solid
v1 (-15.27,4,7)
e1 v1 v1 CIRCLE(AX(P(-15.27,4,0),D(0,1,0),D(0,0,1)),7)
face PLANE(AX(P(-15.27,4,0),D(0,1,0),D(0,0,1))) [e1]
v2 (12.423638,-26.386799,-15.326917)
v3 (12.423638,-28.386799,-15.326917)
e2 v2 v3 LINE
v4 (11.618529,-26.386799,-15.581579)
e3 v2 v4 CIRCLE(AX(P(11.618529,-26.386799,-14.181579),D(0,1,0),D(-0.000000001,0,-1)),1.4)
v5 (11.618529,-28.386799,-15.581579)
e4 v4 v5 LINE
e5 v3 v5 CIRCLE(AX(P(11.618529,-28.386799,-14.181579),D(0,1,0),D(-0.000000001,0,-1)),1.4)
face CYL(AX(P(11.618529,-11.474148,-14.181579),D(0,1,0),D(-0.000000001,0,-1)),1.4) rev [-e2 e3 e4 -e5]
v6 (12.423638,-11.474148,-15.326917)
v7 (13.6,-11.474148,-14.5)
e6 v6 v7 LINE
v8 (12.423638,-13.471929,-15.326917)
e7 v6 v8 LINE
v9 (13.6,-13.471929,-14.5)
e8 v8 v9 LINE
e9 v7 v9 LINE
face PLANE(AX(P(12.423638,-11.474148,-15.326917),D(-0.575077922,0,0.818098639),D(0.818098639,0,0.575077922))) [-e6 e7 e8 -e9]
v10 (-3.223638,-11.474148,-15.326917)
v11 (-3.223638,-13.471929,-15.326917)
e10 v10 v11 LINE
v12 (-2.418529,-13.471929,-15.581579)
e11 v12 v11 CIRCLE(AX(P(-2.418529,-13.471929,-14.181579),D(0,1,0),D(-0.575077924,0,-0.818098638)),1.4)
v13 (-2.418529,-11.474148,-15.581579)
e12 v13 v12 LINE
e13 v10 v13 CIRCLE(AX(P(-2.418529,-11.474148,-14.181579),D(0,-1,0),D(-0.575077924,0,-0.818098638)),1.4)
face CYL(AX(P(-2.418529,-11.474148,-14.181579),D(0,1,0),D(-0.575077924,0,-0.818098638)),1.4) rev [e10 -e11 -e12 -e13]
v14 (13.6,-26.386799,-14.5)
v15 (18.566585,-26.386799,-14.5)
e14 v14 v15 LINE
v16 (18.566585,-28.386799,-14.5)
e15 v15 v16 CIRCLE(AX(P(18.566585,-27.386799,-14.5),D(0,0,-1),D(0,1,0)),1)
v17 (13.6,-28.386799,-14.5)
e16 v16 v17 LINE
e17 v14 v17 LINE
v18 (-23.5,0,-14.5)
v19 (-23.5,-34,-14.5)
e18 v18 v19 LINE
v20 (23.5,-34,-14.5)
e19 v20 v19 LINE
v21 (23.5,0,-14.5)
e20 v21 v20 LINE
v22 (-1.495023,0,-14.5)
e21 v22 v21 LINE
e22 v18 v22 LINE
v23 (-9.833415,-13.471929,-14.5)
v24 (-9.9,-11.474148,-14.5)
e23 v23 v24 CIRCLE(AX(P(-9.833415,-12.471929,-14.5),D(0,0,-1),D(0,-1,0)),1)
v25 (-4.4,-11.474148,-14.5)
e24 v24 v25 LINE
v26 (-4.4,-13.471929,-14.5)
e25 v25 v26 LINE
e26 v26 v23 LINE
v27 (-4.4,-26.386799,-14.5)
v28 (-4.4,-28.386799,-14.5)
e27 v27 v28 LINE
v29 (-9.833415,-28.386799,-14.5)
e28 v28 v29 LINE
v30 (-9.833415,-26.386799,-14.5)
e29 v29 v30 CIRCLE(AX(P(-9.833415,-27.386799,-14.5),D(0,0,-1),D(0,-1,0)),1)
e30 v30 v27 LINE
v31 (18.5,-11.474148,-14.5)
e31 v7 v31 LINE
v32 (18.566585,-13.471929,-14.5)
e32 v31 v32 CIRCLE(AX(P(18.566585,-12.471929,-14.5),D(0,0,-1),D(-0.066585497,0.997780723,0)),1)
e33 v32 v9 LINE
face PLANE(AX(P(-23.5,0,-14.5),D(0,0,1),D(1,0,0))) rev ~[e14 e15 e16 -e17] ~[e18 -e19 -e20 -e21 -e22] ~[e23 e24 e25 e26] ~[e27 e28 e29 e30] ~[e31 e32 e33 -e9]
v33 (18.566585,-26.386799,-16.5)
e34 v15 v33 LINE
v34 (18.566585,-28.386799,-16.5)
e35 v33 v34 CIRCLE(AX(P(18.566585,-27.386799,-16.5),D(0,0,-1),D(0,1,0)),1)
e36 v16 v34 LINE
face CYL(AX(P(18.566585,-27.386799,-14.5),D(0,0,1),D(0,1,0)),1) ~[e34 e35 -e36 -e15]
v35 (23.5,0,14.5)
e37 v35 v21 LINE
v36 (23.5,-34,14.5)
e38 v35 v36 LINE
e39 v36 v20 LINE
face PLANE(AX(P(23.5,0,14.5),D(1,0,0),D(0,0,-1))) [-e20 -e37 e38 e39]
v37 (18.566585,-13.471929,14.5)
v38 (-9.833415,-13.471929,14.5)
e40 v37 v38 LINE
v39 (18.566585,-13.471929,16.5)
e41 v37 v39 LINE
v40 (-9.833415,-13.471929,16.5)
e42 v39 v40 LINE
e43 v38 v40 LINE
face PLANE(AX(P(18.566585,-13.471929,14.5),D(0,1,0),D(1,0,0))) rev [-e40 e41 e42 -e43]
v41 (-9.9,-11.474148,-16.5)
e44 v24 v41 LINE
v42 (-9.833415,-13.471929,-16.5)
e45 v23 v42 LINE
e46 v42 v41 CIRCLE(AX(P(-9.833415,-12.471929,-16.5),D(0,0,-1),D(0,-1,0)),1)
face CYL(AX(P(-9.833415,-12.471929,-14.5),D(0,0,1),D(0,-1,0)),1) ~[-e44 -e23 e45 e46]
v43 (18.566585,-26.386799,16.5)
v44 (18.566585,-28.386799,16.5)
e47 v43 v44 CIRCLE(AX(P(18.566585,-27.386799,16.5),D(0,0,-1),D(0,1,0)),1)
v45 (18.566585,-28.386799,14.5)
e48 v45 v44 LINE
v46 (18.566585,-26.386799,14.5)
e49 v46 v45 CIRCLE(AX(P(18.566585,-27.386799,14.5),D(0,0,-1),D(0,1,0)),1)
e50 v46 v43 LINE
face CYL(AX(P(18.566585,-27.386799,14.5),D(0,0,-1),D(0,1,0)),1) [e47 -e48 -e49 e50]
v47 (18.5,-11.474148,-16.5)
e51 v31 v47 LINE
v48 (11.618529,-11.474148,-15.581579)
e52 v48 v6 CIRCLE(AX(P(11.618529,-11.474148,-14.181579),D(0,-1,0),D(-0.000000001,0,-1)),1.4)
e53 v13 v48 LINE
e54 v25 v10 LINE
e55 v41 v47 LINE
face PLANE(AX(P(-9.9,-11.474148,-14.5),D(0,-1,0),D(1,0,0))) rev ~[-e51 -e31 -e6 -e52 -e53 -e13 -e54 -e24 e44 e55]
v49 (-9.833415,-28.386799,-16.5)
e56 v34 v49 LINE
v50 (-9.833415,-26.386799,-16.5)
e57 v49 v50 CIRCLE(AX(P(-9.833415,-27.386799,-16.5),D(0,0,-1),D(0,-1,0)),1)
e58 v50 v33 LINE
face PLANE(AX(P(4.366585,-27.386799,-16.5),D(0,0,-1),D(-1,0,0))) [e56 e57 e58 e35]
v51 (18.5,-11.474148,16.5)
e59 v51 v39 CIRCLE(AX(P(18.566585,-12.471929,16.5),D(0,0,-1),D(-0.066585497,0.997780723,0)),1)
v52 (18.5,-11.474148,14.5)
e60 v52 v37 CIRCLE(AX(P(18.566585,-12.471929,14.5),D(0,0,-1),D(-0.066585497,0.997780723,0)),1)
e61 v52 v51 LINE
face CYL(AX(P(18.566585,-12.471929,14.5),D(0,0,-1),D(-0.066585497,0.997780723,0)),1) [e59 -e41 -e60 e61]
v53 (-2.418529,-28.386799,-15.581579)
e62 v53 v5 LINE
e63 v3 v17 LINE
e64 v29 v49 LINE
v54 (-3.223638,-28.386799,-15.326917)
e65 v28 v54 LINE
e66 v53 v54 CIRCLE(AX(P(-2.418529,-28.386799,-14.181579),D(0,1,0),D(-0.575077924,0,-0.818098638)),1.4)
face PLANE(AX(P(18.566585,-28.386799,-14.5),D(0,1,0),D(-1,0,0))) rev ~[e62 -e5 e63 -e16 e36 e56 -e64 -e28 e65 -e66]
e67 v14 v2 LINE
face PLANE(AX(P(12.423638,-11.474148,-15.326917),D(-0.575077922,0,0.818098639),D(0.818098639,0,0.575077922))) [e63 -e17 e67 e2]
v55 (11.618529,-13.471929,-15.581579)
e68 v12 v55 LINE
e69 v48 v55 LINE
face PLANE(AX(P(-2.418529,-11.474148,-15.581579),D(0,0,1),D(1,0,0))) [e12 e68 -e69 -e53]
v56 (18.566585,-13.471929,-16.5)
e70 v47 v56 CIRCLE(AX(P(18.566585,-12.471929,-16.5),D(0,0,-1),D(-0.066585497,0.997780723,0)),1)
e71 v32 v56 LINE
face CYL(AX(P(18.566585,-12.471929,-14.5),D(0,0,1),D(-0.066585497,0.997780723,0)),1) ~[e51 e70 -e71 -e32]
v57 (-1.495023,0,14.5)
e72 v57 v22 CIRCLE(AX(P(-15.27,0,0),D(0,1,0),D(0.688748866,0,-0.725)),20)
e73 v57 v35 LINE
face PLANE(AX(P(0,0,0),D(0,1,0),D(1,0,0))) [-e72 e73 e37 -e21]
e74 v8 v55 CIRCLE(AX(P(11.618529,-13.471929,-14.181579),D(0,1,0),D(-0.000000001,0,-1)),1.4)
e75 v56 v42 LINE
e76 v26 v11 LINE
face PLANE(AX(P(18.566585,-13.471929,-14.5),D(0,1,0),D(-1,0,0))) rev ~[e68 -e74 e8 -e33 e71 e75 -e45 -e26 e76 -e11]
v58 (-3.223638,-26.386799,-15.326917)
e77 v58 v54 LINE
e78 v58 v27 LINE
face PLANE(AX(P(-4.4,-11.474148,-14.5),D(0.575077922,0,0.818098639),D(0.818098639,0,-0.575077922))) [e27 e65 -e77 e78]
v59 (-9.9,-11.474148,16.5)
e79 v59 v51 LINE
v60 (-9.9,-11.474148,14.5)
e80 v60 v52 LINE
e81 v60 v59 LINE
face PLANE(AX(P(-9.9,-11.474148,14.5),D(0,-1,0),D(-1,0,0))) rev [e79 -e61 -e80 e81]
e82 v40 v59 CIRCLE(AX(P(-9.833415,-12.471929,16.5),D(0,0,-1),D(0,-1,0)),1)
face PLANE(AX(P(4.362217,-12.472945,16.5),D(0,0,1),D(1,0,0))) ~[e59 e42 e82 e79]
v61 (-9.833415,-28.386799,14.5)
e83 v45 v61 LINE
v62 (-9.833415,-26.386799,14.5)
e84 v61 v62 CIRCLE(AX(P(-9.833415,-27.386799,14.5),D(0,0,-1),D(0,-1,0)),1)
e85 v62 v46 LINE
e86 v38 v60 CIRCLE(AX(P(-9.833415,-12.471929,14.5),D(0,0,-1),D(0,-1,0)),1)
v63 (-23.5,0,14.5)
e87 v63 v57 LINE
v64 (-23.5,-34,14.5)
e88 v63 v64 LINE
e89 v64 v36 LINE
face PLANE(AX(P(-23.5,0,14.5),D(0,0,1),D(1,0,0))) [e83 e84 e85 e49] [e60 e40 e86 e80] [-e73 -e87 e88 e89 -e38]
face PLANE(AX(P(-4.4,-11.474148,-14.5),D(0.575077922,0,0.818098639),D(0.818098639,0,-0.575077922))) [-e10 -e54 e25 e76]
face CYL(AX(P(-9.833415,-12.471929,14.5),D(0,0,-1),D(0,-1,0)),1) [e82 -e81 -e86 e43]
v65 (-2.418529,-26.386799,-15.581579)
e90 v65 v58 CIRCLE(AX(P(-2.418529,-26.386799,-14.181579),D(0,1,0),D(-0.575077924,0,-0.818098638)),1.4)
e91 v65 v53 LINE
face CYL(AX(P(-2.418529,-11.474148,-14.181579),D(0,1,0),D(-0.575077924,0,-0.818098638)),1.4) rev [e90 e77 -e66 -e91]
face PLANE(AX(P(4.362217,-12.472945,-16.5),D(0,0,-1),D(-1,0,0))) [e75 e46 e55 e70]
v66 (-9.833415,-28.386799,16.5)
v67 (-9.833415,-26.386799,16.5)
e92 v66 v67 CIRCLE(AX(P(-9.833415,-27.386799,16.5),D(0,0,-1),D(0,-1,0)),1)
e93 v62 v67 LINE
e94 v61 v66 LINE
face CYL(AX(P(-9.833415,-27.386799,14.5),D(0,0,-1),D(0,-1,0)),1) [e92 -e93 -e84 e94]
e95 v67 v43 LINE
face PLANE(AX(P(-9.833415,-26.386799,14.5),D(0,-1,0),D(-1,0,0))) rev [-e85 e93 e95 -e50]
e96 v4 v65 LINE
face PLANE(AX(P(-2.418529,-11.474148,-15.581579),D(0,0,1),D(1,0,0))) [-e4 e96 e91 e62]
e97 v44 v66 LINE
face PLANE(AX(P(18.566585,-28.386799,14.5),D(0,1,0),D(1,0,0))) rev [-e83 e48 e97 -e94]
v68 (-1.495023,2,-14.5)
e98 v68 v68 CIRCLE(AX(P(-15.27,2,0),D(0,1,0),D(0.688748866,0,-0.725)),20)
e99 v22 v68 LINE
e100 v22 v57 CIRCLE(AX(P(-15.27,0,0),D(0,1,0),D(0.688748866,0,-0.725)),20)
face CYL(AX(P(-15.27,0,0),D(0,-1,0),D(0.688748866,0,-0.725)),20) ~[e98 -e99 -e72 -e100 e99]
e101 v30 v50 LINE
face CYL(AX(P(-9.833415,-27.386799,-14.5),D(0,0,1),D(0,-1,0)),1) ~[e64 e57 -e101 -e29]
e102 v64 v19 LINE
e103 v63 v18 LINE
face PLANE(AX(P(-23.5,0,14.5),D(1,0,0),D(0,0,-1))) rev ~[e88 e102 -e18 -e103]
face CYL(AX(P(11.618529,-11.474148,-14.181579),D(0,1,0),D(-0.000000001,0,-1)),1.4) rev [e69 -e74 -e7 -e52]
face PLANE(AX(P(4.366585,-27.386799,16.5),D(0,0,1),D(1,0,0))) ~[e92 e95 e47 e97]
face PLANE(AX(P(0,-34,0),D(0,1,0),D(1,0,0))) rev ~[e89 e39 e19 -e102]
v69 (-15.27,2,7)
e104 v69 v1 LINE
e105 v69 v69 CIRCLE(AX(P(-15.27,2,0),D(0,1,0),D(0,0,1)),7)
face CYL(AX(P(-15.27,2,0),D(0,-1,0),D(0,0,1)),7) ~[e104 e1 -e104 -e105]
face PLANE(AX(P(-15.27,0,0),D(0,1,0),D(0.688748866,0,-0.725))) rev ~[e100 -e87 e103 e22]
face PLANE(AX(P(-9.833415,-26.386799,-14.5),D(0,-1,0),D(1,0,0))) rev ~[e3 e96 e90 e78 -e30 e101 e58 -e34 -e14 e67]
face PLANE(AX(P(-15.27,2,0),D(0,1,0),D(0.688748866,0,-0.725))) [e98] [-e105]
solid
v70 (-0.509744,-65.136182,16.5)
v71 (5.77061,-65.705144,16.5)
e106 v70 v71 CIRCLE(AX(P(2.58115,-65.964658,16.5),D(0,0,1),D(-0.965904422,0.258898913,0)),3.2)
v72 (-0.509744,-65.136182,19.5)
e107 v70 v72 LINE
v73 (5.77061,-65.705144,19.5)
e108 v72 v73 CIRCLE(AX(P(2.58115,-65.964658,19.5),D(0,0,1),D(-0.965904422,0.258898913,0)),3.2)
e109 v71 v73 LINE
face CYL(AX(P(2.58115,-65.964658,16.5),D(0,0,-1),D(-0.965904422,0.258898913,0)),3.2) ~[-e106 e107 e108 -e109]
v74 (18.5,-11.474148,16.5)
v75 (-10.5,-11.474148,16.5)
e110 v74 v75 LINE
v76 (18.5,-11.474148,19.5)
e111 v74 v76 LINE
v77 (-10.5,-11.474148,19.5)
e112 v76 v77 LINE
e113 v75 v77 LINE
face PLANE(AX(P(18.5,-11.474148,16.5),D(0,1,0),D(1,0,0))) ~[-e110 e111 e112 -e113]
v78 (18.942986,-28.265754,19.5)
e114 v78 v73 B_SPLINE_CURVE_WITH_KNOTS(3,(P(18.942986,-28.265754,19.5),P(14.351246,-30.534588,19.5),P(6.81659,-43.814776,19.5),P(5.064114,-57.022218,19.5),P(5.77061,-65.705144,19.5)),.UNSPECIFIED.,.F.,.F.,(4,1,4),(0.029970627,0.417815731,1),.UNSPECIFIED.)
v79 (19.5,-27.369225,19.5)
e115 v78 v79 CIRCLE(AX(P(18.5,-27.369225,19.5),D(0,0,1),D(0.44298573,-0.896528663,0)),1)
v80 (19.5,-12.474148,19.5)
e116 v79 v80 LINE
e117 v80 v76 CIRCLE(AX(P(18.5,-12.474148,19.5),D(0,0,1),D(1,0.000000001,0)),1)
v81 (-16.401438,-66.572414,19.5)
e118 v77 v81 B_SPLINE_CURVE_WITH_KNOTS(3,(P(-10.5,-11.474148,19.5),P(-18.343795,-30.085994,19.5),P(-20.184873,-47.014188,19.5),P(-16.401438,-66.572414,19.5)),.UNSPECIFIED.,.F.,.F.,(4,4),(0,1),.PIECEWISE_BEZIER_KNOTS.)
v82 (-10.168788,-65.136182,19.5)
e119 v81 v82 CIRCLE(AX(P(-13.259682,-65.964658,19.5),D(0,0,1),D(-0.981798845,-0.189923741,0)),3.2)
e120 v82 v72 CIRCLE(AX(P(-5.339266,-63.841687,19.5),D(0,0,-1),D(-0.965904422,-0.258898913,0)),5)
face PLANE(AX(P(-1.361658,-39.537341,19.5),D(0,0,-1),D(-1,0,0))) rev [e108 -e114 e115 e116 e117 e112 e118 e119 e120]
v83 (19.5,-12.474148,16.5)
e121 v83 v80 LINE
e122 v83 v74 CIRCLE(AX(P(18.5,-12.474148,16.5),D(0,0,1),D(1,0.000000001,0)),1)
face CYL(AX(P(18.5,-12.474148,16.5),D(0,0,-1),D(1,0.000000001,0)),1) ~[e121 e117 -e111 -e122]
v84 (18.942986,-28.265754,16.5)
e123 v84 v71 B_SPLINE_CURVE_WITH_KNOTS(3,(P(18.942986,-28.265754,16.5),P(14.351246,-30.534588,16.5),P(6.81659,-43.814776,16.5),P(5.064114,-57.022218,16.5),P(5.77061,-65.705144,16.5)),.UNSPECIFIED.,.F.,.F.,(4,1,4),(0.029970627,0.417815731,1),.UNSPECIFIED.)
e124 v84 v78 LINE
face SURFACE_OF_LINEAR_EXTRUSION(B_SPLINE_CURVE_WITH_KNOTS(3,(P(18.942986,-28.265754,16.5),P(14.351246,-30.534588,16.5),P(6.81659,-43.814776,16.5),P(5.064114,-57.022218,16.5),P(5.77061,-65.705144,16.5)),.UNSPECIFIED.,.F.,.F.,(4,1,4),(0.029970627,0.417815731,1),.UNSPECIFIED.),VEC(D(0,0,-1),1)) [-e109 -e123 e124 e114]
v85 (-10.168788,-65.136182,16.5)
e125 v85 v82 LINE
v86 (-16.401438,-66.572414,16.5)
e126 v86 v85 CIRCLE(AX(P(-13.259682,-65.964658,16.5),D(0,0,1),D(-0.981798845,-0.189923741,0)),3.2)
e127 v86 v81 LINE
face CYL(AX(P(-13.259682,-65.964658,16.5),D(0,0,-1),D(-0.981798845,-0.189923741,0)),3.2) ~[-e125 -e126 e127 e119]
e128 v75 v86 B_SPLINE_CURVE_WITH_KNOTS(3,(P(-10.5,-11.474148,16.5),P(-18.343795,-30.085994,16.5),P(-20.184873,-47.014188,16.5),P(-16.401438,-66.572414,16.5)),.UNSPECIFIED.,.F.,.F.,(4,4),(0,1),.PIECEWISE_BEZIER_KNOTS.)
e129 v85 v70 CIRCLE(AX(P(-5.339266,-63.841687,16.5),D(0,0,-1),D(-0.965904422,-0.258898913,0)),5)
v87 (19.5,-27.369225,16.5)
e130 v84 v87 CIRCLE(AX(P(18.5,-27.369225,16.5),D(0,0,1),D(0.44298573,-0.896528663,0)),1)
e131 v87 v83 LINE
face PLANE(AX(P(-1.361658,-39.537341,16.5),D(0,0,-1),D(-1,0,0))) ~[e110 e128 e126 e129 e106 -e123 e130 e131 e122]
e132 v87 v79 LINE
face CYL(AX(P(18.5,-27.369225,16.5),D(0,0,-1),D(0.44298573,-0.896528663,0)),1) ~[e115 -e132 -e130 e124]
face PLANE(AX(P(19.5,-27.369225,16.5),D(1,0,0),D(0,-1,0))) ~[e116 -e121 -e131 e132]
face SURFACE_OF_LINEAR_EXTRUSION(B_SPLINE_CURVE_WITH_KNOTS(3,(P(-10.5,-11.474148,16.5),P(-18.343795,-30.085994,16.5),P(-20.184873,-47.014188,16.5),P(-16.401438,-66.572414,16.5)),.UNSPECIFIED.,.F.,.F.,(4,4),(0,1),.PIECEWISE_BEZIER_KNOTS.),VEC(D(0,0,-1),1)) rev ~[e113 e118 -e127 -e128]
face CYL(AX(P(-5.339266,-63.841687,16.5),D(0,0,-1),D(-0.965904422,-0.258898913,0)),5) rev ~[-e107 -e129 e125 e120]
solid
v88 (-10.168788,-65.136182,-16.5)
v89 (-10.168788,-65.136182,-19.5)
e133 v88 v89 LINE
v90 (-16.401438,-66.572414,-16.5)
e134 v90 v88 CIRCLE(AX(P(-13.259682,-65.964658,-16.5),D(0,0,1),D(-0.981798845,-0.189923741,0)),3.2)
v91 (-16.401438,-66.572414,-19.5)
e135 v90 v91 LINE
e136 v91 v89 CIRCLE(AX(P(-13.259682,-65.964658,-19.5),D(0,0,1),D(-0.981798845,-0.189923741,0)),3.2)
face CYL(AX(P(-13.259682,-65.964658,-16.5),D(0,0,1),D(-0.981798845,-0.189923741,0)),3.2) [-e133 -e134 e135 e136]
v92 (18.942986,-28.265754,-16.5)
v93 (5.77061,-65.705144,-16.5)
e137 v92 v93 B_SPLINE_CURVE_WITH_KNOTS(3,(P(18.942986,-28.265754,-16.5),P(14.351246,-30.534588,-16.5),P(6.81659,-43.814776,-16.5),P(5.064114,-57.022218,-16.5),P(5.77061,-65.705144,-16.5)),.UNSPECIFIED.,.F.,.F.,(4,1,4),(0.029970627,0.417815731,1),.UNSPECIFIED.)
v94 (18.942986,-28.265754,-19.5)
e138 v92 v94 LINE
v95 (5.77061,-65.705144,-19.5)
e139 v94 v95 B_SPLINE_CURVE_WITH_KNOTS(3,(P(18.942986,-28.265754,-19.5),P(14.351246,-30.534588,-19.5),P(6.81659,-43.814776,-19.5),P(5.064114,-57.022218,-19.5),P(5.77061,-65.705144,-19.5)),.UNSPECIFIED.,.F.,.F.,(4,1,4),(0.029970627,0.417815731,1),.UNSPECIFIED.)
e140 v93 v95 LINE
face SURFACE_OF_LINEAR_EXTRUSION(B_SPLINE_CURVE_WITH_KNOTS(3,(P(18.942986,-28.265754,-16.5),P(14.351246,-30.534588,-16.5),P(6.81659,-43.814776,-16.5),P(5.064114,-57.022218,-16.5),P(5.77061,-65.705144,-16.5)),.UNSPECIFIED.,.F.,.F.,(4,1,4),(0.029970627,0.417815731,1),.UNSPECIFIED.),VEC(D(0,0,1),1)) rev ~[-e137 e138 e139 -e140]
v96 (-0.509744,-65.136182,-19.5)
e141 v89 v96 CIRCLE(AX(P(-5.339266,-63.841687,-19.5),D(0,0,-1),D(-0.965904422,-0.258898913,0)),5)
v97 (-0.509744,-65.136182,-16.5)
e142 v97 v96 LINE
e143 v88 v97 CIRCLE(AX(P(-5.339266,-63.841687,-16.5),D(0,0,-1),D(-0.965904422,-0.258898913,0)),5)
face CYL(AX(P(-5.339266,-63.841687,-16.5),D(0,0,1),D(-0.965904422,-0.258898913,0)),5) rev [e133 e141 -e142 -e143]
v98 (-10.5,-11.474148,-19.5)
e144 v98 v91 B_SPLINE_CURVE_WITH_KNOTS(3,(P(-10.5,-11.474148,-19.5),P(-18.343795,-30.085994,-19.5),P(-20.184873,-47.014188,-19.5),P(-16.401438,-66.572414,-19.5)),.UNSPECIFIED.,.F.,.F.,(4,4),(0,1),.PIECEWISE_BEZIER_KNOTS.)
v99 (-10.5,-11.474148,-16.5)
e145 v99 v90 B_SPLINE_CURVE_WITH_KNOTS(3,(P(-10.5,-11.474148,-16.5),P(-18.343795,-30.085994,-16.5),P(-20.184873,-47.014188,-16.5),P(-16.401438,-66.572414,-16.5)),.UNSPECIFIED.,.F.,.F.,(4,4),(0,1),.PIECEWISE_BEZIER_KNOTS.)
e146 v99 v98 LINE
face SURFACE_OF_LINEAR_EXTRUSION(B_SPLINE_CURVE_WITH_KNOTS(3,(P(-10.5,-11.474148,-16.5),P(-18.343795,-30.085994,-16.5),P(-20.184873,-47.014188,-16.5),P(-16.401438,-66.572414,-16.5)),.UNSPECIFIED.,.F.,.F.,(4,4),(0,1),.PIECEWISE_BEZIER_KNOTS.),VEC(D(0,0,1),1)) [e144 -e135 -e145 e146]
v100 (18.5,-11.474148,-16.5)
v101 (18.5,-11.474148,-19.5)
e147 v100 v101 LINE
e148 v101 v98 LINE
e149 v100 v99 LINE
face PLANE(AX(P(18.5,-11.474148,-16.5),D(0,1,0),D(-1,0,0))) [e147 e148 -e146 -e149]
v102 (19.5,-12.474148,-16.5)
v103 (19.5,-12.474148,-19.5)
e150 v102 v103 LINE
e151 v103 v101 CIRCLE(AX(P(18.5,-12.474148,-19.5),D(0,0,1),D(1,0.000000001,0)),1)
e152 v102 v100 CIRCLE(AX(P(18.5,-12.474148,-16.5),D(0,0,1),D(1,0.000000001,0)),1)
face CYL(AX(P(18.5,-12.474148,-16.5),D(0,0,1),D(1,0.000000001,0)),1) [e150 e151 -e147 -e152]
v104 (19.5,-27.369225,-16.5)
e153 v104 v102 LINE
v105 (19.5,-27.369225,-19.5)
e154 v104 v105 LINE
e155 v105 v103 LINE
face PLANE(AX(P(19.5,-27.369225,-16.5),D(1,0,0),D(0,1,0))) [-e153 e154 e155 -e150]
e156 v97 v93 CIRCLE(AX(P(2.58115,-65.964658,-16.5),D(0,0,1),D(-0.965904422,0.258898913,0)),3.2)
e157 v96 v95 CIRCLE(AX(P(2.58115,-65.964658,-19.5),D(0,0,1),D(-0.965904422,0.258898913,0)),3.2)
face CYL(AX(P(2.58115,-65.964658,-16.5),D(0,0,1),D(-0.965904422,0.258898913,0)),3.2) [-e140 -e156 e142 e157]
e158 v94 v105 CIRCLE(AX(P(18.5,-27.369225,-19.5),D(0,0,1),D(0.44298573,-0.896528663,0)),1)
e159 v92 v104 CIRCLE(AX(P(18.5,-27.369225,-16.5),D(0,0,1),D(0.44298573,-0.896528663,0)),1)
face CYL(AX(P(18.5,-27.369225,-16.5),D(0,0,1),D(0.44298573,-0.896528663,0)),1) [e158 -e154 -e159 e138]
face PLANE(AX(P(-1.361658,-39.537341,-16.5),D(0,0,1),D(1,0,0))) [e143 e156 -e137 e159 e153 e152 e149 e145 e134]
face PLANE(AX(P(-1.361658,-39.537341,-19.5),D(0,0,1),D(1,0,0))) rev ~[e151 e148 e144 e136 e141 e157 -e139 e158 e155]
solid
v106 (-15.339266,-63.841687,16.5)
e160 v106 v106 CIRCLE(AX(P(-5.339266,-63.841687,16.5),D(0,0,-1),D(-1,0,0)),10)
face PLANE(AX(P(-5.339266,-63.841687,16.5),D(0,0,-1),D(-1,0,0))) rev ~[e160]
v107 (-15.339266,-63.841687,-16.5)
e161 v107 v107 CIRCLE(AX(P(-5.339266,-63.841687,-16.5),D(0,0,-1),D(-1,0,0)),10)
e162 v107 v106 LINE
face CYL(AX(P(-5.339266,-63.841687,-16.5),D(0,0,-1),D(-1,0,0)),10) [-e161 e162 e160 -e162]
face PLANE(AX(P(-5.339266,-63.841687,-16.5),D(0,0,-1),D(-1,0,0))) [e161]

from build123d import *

# Parameters (mm, degrees)
SKETCH1_W           = 47
SKETCH1_H           = 29
BOSS_EXTRUDE1_DEPTH = 34
BOSS_EXTRUDE2_START = 2
BOSS_EXTRUDE2_DEPTH = 3
BOSS_EXTRUDE3_DEPTH = 2
CUT_EXTRUDE1_DEPTH  = 66.273998936
BOSS_EXTRUDE4_START = -3
SKETCH5_R           = 10
BOSS_EXTRUDE4_DEPTH = 33
SKETCH6_R           = 20
BOSS_EXTRUDE5_DEPTH = 2
SKETCH7_R           = 7
BOSS_EXTRUDE6_DEPTH = 2


with BuildPart() as part:
    # Sketch1 → Boss-Extrude1 (new body)
    with BuildSketch(Plane(origin=(0, 0, 0), x_dir=(1, 0, 0), z_dir=(0, 1, 0))):
        Rectangle(SKETCH1_W, SKETCH1_H)
    extrude(amount=-BOSS_EXTRUDE1_DEPTH)

    # Sketch3 → Boss-Extrude3 (add)
    with BuildSketch(Plane(origin=(0, 0, -14.5), x_dir=(-1, 0, 0), z_dir=(0, 0, -1))):
        with BuildLine():
            Line((9.9, -11.474148425), (-18.5, -11.474148425))
            ThreePointArc((-18.5, -11.474148425), (-19.566030524, -12.438617913), (-18.566585497, -13.471929148))
            Line((-18.566585497, -13.471929148), (9.833414503, -13.471929148))
            ThreePointArc((9.833414503, -13.471929148), (10.83285953, -12.505240384), (9.9, -11.474148425))
        make_face()
        with BuildLine():
            Line((-18.566585497, -28.386799147), (9.833414503, -28.386799147))
            ThreePointArc((9.833414503, -28.386799147), (10.833414503, -27.386799147), (9.833414503, -26.386799147))
            Line((9.833414503, -26.386799147), (-18.566585497, -26.386799147))
            ThreePointArc((-18.566585497, -26.386799147), (-19.566585497, -27.386799147), (-18.566585497, -28.386799147))
        make_face()
    boss_extrude3 = extrude(amount=BOSS_EXTRUDE3_DEPTH)

    # Sketch4 → Cut-Extrude1 (cut, through all)
    with BuildSketch(Plane(origin=(0, -11.474148425, 0), x_dir=(1, 0, 0), z_dir=(0, 1, 0))):
        with BuildLine():
            Line((-2.418528857, 15.581579117), (11.618528857, 15.581579117))
            ThreePointArc((11.618528857, 15.581579117), (12.040741284, 15.516396208), (12.423637948, 15.326917211))
            Line((12.423637948, 15.326917211), (13.6, 14.5))
            Line((13.6, 14.5), (-4.4, 14.5))
            Line((-4.4, 14.5), (-3.223637948, 15.326917211))
            ThreePointArc((-3.223637948, 15.326917211), (-2.840741284, 15.516396208), (-2.418528857, 15.581579117))
        make_face()
    extrude(amount=-CUT_EXTRUDE1_DEPTH, mode=Mode.SUBTRACT)

    # Mirror4: Boss-Extrude3 across plane
    add(boss_extrude3.mirror(Plane.XY))

    # Sketch6 → Boss-Extrude5 (add)
    with BuildSketch(Plane(origin=(0, 0, 0), x_dir=(1, 0, 0), z_dir=(0, 1, 0))):
        with Locations(Location((-15.27, 0, 0), (0, 0, 46.468847833))):
            Circle(SKETCH6_R)
    extrude(amount=BOSS_EXTRUDE5_DEPTH)

    # Sketch7 → Boss-Extrude6 (add)
    with BuildSketch(Plane(origin=(0, 2, 0), x_dir=(1, 0, 0), z_dir=(0, 1, 0))):
        with Locations(Location((-15.27, 0, 0), (0, 0, 270))):
            Circle(SKETCH7_R)
    extrude(amount=BOSS_EXTRUDE6_DEPTH)


with BuildPart() as body_2:
    # Sketch2 → Boss-Extrude2 (new body)
    with BuildSketch(Plane(origin=(0, 0, -14.5), x_dir=(-1, 0, 0), z_dir=(0, 0, -1)).offset(BOSS_EXTRUDE2_START)):
        with BuildLine():
            Line((-18.5, -11.474148425), (10.5, -11.474148425))
            add(Edge.make_bspline(
                [(10.5, -11.474148425), (18.34379495, -30.085994321), (20.184872836, -47.014188136), (16.401438499, -66.572414203)],
                knots=[0, 0, 0, 0, 1, 1, 1, 1], degree=3))
            ThreePointArc((16.401438499, -66.572414203), (12.541115786, -69.082936974), (10.168788044, -65.136181709))
            ThreePointArc((10.168788044, -65.136181709), (5.339265933, -58.841687144), (0.509743822, -65.136181709))
            ThreePointArc((0.509743822, -65.136181709), (-2.292431696, -69.151606858), (-5.770609942, -65.70514449))
            add(Edge.make_bspline(
                [(-18.942985728, -28.265754136), (-14.351246375, -30.534588452), (-6.816589683, -43.814775737), (-5.064114447, -57.022217569), (-5.770609942, -65.70514449)],
                knots=[0.029970627, 0.029970627, 0.029970627, 0.029970627, 0.417815731, 1, 1, 1, 1], degree=3))
            ThreePointArc((-18.942985728, -28.265754136), (-19.34940736, -27.896963225), (-19.5, -27.369225472))
            Line((-19.5, -27.369225472), (-19.5, -12.474148425))
            ThreePointArc((-19.5, -12.474148425), (-19.207106781, -11.767041644), (-18.5, -11.474148425))
        make_face()
    extrude(amount=BOSS_EXTRUDE2_DEPTH)


with BuildPart() as body_3:
    # Mirror5: mirrored copy
    add(body_2.part.mirror(Plane.XY))


with BuildPart() as body_4:
    # Sketch5 → Boss-Extrude4 (new body)
    with BuildSketch(Plane(origin=(0, 0, -19.5), x_dir=(-1, 0, 0), z_dir=(0, 0, -1)).offset(BOSS_EXTRUDE4_START)):
        with Locations((5.339265933, -63.841687144)):
            Circle(SKETCH5_R)
    extrude(amount=-BOSS_EXTRUDE4_DEPTH)


solid = Compound([part.part, body_2.part, body_3.part, body_4.part])
